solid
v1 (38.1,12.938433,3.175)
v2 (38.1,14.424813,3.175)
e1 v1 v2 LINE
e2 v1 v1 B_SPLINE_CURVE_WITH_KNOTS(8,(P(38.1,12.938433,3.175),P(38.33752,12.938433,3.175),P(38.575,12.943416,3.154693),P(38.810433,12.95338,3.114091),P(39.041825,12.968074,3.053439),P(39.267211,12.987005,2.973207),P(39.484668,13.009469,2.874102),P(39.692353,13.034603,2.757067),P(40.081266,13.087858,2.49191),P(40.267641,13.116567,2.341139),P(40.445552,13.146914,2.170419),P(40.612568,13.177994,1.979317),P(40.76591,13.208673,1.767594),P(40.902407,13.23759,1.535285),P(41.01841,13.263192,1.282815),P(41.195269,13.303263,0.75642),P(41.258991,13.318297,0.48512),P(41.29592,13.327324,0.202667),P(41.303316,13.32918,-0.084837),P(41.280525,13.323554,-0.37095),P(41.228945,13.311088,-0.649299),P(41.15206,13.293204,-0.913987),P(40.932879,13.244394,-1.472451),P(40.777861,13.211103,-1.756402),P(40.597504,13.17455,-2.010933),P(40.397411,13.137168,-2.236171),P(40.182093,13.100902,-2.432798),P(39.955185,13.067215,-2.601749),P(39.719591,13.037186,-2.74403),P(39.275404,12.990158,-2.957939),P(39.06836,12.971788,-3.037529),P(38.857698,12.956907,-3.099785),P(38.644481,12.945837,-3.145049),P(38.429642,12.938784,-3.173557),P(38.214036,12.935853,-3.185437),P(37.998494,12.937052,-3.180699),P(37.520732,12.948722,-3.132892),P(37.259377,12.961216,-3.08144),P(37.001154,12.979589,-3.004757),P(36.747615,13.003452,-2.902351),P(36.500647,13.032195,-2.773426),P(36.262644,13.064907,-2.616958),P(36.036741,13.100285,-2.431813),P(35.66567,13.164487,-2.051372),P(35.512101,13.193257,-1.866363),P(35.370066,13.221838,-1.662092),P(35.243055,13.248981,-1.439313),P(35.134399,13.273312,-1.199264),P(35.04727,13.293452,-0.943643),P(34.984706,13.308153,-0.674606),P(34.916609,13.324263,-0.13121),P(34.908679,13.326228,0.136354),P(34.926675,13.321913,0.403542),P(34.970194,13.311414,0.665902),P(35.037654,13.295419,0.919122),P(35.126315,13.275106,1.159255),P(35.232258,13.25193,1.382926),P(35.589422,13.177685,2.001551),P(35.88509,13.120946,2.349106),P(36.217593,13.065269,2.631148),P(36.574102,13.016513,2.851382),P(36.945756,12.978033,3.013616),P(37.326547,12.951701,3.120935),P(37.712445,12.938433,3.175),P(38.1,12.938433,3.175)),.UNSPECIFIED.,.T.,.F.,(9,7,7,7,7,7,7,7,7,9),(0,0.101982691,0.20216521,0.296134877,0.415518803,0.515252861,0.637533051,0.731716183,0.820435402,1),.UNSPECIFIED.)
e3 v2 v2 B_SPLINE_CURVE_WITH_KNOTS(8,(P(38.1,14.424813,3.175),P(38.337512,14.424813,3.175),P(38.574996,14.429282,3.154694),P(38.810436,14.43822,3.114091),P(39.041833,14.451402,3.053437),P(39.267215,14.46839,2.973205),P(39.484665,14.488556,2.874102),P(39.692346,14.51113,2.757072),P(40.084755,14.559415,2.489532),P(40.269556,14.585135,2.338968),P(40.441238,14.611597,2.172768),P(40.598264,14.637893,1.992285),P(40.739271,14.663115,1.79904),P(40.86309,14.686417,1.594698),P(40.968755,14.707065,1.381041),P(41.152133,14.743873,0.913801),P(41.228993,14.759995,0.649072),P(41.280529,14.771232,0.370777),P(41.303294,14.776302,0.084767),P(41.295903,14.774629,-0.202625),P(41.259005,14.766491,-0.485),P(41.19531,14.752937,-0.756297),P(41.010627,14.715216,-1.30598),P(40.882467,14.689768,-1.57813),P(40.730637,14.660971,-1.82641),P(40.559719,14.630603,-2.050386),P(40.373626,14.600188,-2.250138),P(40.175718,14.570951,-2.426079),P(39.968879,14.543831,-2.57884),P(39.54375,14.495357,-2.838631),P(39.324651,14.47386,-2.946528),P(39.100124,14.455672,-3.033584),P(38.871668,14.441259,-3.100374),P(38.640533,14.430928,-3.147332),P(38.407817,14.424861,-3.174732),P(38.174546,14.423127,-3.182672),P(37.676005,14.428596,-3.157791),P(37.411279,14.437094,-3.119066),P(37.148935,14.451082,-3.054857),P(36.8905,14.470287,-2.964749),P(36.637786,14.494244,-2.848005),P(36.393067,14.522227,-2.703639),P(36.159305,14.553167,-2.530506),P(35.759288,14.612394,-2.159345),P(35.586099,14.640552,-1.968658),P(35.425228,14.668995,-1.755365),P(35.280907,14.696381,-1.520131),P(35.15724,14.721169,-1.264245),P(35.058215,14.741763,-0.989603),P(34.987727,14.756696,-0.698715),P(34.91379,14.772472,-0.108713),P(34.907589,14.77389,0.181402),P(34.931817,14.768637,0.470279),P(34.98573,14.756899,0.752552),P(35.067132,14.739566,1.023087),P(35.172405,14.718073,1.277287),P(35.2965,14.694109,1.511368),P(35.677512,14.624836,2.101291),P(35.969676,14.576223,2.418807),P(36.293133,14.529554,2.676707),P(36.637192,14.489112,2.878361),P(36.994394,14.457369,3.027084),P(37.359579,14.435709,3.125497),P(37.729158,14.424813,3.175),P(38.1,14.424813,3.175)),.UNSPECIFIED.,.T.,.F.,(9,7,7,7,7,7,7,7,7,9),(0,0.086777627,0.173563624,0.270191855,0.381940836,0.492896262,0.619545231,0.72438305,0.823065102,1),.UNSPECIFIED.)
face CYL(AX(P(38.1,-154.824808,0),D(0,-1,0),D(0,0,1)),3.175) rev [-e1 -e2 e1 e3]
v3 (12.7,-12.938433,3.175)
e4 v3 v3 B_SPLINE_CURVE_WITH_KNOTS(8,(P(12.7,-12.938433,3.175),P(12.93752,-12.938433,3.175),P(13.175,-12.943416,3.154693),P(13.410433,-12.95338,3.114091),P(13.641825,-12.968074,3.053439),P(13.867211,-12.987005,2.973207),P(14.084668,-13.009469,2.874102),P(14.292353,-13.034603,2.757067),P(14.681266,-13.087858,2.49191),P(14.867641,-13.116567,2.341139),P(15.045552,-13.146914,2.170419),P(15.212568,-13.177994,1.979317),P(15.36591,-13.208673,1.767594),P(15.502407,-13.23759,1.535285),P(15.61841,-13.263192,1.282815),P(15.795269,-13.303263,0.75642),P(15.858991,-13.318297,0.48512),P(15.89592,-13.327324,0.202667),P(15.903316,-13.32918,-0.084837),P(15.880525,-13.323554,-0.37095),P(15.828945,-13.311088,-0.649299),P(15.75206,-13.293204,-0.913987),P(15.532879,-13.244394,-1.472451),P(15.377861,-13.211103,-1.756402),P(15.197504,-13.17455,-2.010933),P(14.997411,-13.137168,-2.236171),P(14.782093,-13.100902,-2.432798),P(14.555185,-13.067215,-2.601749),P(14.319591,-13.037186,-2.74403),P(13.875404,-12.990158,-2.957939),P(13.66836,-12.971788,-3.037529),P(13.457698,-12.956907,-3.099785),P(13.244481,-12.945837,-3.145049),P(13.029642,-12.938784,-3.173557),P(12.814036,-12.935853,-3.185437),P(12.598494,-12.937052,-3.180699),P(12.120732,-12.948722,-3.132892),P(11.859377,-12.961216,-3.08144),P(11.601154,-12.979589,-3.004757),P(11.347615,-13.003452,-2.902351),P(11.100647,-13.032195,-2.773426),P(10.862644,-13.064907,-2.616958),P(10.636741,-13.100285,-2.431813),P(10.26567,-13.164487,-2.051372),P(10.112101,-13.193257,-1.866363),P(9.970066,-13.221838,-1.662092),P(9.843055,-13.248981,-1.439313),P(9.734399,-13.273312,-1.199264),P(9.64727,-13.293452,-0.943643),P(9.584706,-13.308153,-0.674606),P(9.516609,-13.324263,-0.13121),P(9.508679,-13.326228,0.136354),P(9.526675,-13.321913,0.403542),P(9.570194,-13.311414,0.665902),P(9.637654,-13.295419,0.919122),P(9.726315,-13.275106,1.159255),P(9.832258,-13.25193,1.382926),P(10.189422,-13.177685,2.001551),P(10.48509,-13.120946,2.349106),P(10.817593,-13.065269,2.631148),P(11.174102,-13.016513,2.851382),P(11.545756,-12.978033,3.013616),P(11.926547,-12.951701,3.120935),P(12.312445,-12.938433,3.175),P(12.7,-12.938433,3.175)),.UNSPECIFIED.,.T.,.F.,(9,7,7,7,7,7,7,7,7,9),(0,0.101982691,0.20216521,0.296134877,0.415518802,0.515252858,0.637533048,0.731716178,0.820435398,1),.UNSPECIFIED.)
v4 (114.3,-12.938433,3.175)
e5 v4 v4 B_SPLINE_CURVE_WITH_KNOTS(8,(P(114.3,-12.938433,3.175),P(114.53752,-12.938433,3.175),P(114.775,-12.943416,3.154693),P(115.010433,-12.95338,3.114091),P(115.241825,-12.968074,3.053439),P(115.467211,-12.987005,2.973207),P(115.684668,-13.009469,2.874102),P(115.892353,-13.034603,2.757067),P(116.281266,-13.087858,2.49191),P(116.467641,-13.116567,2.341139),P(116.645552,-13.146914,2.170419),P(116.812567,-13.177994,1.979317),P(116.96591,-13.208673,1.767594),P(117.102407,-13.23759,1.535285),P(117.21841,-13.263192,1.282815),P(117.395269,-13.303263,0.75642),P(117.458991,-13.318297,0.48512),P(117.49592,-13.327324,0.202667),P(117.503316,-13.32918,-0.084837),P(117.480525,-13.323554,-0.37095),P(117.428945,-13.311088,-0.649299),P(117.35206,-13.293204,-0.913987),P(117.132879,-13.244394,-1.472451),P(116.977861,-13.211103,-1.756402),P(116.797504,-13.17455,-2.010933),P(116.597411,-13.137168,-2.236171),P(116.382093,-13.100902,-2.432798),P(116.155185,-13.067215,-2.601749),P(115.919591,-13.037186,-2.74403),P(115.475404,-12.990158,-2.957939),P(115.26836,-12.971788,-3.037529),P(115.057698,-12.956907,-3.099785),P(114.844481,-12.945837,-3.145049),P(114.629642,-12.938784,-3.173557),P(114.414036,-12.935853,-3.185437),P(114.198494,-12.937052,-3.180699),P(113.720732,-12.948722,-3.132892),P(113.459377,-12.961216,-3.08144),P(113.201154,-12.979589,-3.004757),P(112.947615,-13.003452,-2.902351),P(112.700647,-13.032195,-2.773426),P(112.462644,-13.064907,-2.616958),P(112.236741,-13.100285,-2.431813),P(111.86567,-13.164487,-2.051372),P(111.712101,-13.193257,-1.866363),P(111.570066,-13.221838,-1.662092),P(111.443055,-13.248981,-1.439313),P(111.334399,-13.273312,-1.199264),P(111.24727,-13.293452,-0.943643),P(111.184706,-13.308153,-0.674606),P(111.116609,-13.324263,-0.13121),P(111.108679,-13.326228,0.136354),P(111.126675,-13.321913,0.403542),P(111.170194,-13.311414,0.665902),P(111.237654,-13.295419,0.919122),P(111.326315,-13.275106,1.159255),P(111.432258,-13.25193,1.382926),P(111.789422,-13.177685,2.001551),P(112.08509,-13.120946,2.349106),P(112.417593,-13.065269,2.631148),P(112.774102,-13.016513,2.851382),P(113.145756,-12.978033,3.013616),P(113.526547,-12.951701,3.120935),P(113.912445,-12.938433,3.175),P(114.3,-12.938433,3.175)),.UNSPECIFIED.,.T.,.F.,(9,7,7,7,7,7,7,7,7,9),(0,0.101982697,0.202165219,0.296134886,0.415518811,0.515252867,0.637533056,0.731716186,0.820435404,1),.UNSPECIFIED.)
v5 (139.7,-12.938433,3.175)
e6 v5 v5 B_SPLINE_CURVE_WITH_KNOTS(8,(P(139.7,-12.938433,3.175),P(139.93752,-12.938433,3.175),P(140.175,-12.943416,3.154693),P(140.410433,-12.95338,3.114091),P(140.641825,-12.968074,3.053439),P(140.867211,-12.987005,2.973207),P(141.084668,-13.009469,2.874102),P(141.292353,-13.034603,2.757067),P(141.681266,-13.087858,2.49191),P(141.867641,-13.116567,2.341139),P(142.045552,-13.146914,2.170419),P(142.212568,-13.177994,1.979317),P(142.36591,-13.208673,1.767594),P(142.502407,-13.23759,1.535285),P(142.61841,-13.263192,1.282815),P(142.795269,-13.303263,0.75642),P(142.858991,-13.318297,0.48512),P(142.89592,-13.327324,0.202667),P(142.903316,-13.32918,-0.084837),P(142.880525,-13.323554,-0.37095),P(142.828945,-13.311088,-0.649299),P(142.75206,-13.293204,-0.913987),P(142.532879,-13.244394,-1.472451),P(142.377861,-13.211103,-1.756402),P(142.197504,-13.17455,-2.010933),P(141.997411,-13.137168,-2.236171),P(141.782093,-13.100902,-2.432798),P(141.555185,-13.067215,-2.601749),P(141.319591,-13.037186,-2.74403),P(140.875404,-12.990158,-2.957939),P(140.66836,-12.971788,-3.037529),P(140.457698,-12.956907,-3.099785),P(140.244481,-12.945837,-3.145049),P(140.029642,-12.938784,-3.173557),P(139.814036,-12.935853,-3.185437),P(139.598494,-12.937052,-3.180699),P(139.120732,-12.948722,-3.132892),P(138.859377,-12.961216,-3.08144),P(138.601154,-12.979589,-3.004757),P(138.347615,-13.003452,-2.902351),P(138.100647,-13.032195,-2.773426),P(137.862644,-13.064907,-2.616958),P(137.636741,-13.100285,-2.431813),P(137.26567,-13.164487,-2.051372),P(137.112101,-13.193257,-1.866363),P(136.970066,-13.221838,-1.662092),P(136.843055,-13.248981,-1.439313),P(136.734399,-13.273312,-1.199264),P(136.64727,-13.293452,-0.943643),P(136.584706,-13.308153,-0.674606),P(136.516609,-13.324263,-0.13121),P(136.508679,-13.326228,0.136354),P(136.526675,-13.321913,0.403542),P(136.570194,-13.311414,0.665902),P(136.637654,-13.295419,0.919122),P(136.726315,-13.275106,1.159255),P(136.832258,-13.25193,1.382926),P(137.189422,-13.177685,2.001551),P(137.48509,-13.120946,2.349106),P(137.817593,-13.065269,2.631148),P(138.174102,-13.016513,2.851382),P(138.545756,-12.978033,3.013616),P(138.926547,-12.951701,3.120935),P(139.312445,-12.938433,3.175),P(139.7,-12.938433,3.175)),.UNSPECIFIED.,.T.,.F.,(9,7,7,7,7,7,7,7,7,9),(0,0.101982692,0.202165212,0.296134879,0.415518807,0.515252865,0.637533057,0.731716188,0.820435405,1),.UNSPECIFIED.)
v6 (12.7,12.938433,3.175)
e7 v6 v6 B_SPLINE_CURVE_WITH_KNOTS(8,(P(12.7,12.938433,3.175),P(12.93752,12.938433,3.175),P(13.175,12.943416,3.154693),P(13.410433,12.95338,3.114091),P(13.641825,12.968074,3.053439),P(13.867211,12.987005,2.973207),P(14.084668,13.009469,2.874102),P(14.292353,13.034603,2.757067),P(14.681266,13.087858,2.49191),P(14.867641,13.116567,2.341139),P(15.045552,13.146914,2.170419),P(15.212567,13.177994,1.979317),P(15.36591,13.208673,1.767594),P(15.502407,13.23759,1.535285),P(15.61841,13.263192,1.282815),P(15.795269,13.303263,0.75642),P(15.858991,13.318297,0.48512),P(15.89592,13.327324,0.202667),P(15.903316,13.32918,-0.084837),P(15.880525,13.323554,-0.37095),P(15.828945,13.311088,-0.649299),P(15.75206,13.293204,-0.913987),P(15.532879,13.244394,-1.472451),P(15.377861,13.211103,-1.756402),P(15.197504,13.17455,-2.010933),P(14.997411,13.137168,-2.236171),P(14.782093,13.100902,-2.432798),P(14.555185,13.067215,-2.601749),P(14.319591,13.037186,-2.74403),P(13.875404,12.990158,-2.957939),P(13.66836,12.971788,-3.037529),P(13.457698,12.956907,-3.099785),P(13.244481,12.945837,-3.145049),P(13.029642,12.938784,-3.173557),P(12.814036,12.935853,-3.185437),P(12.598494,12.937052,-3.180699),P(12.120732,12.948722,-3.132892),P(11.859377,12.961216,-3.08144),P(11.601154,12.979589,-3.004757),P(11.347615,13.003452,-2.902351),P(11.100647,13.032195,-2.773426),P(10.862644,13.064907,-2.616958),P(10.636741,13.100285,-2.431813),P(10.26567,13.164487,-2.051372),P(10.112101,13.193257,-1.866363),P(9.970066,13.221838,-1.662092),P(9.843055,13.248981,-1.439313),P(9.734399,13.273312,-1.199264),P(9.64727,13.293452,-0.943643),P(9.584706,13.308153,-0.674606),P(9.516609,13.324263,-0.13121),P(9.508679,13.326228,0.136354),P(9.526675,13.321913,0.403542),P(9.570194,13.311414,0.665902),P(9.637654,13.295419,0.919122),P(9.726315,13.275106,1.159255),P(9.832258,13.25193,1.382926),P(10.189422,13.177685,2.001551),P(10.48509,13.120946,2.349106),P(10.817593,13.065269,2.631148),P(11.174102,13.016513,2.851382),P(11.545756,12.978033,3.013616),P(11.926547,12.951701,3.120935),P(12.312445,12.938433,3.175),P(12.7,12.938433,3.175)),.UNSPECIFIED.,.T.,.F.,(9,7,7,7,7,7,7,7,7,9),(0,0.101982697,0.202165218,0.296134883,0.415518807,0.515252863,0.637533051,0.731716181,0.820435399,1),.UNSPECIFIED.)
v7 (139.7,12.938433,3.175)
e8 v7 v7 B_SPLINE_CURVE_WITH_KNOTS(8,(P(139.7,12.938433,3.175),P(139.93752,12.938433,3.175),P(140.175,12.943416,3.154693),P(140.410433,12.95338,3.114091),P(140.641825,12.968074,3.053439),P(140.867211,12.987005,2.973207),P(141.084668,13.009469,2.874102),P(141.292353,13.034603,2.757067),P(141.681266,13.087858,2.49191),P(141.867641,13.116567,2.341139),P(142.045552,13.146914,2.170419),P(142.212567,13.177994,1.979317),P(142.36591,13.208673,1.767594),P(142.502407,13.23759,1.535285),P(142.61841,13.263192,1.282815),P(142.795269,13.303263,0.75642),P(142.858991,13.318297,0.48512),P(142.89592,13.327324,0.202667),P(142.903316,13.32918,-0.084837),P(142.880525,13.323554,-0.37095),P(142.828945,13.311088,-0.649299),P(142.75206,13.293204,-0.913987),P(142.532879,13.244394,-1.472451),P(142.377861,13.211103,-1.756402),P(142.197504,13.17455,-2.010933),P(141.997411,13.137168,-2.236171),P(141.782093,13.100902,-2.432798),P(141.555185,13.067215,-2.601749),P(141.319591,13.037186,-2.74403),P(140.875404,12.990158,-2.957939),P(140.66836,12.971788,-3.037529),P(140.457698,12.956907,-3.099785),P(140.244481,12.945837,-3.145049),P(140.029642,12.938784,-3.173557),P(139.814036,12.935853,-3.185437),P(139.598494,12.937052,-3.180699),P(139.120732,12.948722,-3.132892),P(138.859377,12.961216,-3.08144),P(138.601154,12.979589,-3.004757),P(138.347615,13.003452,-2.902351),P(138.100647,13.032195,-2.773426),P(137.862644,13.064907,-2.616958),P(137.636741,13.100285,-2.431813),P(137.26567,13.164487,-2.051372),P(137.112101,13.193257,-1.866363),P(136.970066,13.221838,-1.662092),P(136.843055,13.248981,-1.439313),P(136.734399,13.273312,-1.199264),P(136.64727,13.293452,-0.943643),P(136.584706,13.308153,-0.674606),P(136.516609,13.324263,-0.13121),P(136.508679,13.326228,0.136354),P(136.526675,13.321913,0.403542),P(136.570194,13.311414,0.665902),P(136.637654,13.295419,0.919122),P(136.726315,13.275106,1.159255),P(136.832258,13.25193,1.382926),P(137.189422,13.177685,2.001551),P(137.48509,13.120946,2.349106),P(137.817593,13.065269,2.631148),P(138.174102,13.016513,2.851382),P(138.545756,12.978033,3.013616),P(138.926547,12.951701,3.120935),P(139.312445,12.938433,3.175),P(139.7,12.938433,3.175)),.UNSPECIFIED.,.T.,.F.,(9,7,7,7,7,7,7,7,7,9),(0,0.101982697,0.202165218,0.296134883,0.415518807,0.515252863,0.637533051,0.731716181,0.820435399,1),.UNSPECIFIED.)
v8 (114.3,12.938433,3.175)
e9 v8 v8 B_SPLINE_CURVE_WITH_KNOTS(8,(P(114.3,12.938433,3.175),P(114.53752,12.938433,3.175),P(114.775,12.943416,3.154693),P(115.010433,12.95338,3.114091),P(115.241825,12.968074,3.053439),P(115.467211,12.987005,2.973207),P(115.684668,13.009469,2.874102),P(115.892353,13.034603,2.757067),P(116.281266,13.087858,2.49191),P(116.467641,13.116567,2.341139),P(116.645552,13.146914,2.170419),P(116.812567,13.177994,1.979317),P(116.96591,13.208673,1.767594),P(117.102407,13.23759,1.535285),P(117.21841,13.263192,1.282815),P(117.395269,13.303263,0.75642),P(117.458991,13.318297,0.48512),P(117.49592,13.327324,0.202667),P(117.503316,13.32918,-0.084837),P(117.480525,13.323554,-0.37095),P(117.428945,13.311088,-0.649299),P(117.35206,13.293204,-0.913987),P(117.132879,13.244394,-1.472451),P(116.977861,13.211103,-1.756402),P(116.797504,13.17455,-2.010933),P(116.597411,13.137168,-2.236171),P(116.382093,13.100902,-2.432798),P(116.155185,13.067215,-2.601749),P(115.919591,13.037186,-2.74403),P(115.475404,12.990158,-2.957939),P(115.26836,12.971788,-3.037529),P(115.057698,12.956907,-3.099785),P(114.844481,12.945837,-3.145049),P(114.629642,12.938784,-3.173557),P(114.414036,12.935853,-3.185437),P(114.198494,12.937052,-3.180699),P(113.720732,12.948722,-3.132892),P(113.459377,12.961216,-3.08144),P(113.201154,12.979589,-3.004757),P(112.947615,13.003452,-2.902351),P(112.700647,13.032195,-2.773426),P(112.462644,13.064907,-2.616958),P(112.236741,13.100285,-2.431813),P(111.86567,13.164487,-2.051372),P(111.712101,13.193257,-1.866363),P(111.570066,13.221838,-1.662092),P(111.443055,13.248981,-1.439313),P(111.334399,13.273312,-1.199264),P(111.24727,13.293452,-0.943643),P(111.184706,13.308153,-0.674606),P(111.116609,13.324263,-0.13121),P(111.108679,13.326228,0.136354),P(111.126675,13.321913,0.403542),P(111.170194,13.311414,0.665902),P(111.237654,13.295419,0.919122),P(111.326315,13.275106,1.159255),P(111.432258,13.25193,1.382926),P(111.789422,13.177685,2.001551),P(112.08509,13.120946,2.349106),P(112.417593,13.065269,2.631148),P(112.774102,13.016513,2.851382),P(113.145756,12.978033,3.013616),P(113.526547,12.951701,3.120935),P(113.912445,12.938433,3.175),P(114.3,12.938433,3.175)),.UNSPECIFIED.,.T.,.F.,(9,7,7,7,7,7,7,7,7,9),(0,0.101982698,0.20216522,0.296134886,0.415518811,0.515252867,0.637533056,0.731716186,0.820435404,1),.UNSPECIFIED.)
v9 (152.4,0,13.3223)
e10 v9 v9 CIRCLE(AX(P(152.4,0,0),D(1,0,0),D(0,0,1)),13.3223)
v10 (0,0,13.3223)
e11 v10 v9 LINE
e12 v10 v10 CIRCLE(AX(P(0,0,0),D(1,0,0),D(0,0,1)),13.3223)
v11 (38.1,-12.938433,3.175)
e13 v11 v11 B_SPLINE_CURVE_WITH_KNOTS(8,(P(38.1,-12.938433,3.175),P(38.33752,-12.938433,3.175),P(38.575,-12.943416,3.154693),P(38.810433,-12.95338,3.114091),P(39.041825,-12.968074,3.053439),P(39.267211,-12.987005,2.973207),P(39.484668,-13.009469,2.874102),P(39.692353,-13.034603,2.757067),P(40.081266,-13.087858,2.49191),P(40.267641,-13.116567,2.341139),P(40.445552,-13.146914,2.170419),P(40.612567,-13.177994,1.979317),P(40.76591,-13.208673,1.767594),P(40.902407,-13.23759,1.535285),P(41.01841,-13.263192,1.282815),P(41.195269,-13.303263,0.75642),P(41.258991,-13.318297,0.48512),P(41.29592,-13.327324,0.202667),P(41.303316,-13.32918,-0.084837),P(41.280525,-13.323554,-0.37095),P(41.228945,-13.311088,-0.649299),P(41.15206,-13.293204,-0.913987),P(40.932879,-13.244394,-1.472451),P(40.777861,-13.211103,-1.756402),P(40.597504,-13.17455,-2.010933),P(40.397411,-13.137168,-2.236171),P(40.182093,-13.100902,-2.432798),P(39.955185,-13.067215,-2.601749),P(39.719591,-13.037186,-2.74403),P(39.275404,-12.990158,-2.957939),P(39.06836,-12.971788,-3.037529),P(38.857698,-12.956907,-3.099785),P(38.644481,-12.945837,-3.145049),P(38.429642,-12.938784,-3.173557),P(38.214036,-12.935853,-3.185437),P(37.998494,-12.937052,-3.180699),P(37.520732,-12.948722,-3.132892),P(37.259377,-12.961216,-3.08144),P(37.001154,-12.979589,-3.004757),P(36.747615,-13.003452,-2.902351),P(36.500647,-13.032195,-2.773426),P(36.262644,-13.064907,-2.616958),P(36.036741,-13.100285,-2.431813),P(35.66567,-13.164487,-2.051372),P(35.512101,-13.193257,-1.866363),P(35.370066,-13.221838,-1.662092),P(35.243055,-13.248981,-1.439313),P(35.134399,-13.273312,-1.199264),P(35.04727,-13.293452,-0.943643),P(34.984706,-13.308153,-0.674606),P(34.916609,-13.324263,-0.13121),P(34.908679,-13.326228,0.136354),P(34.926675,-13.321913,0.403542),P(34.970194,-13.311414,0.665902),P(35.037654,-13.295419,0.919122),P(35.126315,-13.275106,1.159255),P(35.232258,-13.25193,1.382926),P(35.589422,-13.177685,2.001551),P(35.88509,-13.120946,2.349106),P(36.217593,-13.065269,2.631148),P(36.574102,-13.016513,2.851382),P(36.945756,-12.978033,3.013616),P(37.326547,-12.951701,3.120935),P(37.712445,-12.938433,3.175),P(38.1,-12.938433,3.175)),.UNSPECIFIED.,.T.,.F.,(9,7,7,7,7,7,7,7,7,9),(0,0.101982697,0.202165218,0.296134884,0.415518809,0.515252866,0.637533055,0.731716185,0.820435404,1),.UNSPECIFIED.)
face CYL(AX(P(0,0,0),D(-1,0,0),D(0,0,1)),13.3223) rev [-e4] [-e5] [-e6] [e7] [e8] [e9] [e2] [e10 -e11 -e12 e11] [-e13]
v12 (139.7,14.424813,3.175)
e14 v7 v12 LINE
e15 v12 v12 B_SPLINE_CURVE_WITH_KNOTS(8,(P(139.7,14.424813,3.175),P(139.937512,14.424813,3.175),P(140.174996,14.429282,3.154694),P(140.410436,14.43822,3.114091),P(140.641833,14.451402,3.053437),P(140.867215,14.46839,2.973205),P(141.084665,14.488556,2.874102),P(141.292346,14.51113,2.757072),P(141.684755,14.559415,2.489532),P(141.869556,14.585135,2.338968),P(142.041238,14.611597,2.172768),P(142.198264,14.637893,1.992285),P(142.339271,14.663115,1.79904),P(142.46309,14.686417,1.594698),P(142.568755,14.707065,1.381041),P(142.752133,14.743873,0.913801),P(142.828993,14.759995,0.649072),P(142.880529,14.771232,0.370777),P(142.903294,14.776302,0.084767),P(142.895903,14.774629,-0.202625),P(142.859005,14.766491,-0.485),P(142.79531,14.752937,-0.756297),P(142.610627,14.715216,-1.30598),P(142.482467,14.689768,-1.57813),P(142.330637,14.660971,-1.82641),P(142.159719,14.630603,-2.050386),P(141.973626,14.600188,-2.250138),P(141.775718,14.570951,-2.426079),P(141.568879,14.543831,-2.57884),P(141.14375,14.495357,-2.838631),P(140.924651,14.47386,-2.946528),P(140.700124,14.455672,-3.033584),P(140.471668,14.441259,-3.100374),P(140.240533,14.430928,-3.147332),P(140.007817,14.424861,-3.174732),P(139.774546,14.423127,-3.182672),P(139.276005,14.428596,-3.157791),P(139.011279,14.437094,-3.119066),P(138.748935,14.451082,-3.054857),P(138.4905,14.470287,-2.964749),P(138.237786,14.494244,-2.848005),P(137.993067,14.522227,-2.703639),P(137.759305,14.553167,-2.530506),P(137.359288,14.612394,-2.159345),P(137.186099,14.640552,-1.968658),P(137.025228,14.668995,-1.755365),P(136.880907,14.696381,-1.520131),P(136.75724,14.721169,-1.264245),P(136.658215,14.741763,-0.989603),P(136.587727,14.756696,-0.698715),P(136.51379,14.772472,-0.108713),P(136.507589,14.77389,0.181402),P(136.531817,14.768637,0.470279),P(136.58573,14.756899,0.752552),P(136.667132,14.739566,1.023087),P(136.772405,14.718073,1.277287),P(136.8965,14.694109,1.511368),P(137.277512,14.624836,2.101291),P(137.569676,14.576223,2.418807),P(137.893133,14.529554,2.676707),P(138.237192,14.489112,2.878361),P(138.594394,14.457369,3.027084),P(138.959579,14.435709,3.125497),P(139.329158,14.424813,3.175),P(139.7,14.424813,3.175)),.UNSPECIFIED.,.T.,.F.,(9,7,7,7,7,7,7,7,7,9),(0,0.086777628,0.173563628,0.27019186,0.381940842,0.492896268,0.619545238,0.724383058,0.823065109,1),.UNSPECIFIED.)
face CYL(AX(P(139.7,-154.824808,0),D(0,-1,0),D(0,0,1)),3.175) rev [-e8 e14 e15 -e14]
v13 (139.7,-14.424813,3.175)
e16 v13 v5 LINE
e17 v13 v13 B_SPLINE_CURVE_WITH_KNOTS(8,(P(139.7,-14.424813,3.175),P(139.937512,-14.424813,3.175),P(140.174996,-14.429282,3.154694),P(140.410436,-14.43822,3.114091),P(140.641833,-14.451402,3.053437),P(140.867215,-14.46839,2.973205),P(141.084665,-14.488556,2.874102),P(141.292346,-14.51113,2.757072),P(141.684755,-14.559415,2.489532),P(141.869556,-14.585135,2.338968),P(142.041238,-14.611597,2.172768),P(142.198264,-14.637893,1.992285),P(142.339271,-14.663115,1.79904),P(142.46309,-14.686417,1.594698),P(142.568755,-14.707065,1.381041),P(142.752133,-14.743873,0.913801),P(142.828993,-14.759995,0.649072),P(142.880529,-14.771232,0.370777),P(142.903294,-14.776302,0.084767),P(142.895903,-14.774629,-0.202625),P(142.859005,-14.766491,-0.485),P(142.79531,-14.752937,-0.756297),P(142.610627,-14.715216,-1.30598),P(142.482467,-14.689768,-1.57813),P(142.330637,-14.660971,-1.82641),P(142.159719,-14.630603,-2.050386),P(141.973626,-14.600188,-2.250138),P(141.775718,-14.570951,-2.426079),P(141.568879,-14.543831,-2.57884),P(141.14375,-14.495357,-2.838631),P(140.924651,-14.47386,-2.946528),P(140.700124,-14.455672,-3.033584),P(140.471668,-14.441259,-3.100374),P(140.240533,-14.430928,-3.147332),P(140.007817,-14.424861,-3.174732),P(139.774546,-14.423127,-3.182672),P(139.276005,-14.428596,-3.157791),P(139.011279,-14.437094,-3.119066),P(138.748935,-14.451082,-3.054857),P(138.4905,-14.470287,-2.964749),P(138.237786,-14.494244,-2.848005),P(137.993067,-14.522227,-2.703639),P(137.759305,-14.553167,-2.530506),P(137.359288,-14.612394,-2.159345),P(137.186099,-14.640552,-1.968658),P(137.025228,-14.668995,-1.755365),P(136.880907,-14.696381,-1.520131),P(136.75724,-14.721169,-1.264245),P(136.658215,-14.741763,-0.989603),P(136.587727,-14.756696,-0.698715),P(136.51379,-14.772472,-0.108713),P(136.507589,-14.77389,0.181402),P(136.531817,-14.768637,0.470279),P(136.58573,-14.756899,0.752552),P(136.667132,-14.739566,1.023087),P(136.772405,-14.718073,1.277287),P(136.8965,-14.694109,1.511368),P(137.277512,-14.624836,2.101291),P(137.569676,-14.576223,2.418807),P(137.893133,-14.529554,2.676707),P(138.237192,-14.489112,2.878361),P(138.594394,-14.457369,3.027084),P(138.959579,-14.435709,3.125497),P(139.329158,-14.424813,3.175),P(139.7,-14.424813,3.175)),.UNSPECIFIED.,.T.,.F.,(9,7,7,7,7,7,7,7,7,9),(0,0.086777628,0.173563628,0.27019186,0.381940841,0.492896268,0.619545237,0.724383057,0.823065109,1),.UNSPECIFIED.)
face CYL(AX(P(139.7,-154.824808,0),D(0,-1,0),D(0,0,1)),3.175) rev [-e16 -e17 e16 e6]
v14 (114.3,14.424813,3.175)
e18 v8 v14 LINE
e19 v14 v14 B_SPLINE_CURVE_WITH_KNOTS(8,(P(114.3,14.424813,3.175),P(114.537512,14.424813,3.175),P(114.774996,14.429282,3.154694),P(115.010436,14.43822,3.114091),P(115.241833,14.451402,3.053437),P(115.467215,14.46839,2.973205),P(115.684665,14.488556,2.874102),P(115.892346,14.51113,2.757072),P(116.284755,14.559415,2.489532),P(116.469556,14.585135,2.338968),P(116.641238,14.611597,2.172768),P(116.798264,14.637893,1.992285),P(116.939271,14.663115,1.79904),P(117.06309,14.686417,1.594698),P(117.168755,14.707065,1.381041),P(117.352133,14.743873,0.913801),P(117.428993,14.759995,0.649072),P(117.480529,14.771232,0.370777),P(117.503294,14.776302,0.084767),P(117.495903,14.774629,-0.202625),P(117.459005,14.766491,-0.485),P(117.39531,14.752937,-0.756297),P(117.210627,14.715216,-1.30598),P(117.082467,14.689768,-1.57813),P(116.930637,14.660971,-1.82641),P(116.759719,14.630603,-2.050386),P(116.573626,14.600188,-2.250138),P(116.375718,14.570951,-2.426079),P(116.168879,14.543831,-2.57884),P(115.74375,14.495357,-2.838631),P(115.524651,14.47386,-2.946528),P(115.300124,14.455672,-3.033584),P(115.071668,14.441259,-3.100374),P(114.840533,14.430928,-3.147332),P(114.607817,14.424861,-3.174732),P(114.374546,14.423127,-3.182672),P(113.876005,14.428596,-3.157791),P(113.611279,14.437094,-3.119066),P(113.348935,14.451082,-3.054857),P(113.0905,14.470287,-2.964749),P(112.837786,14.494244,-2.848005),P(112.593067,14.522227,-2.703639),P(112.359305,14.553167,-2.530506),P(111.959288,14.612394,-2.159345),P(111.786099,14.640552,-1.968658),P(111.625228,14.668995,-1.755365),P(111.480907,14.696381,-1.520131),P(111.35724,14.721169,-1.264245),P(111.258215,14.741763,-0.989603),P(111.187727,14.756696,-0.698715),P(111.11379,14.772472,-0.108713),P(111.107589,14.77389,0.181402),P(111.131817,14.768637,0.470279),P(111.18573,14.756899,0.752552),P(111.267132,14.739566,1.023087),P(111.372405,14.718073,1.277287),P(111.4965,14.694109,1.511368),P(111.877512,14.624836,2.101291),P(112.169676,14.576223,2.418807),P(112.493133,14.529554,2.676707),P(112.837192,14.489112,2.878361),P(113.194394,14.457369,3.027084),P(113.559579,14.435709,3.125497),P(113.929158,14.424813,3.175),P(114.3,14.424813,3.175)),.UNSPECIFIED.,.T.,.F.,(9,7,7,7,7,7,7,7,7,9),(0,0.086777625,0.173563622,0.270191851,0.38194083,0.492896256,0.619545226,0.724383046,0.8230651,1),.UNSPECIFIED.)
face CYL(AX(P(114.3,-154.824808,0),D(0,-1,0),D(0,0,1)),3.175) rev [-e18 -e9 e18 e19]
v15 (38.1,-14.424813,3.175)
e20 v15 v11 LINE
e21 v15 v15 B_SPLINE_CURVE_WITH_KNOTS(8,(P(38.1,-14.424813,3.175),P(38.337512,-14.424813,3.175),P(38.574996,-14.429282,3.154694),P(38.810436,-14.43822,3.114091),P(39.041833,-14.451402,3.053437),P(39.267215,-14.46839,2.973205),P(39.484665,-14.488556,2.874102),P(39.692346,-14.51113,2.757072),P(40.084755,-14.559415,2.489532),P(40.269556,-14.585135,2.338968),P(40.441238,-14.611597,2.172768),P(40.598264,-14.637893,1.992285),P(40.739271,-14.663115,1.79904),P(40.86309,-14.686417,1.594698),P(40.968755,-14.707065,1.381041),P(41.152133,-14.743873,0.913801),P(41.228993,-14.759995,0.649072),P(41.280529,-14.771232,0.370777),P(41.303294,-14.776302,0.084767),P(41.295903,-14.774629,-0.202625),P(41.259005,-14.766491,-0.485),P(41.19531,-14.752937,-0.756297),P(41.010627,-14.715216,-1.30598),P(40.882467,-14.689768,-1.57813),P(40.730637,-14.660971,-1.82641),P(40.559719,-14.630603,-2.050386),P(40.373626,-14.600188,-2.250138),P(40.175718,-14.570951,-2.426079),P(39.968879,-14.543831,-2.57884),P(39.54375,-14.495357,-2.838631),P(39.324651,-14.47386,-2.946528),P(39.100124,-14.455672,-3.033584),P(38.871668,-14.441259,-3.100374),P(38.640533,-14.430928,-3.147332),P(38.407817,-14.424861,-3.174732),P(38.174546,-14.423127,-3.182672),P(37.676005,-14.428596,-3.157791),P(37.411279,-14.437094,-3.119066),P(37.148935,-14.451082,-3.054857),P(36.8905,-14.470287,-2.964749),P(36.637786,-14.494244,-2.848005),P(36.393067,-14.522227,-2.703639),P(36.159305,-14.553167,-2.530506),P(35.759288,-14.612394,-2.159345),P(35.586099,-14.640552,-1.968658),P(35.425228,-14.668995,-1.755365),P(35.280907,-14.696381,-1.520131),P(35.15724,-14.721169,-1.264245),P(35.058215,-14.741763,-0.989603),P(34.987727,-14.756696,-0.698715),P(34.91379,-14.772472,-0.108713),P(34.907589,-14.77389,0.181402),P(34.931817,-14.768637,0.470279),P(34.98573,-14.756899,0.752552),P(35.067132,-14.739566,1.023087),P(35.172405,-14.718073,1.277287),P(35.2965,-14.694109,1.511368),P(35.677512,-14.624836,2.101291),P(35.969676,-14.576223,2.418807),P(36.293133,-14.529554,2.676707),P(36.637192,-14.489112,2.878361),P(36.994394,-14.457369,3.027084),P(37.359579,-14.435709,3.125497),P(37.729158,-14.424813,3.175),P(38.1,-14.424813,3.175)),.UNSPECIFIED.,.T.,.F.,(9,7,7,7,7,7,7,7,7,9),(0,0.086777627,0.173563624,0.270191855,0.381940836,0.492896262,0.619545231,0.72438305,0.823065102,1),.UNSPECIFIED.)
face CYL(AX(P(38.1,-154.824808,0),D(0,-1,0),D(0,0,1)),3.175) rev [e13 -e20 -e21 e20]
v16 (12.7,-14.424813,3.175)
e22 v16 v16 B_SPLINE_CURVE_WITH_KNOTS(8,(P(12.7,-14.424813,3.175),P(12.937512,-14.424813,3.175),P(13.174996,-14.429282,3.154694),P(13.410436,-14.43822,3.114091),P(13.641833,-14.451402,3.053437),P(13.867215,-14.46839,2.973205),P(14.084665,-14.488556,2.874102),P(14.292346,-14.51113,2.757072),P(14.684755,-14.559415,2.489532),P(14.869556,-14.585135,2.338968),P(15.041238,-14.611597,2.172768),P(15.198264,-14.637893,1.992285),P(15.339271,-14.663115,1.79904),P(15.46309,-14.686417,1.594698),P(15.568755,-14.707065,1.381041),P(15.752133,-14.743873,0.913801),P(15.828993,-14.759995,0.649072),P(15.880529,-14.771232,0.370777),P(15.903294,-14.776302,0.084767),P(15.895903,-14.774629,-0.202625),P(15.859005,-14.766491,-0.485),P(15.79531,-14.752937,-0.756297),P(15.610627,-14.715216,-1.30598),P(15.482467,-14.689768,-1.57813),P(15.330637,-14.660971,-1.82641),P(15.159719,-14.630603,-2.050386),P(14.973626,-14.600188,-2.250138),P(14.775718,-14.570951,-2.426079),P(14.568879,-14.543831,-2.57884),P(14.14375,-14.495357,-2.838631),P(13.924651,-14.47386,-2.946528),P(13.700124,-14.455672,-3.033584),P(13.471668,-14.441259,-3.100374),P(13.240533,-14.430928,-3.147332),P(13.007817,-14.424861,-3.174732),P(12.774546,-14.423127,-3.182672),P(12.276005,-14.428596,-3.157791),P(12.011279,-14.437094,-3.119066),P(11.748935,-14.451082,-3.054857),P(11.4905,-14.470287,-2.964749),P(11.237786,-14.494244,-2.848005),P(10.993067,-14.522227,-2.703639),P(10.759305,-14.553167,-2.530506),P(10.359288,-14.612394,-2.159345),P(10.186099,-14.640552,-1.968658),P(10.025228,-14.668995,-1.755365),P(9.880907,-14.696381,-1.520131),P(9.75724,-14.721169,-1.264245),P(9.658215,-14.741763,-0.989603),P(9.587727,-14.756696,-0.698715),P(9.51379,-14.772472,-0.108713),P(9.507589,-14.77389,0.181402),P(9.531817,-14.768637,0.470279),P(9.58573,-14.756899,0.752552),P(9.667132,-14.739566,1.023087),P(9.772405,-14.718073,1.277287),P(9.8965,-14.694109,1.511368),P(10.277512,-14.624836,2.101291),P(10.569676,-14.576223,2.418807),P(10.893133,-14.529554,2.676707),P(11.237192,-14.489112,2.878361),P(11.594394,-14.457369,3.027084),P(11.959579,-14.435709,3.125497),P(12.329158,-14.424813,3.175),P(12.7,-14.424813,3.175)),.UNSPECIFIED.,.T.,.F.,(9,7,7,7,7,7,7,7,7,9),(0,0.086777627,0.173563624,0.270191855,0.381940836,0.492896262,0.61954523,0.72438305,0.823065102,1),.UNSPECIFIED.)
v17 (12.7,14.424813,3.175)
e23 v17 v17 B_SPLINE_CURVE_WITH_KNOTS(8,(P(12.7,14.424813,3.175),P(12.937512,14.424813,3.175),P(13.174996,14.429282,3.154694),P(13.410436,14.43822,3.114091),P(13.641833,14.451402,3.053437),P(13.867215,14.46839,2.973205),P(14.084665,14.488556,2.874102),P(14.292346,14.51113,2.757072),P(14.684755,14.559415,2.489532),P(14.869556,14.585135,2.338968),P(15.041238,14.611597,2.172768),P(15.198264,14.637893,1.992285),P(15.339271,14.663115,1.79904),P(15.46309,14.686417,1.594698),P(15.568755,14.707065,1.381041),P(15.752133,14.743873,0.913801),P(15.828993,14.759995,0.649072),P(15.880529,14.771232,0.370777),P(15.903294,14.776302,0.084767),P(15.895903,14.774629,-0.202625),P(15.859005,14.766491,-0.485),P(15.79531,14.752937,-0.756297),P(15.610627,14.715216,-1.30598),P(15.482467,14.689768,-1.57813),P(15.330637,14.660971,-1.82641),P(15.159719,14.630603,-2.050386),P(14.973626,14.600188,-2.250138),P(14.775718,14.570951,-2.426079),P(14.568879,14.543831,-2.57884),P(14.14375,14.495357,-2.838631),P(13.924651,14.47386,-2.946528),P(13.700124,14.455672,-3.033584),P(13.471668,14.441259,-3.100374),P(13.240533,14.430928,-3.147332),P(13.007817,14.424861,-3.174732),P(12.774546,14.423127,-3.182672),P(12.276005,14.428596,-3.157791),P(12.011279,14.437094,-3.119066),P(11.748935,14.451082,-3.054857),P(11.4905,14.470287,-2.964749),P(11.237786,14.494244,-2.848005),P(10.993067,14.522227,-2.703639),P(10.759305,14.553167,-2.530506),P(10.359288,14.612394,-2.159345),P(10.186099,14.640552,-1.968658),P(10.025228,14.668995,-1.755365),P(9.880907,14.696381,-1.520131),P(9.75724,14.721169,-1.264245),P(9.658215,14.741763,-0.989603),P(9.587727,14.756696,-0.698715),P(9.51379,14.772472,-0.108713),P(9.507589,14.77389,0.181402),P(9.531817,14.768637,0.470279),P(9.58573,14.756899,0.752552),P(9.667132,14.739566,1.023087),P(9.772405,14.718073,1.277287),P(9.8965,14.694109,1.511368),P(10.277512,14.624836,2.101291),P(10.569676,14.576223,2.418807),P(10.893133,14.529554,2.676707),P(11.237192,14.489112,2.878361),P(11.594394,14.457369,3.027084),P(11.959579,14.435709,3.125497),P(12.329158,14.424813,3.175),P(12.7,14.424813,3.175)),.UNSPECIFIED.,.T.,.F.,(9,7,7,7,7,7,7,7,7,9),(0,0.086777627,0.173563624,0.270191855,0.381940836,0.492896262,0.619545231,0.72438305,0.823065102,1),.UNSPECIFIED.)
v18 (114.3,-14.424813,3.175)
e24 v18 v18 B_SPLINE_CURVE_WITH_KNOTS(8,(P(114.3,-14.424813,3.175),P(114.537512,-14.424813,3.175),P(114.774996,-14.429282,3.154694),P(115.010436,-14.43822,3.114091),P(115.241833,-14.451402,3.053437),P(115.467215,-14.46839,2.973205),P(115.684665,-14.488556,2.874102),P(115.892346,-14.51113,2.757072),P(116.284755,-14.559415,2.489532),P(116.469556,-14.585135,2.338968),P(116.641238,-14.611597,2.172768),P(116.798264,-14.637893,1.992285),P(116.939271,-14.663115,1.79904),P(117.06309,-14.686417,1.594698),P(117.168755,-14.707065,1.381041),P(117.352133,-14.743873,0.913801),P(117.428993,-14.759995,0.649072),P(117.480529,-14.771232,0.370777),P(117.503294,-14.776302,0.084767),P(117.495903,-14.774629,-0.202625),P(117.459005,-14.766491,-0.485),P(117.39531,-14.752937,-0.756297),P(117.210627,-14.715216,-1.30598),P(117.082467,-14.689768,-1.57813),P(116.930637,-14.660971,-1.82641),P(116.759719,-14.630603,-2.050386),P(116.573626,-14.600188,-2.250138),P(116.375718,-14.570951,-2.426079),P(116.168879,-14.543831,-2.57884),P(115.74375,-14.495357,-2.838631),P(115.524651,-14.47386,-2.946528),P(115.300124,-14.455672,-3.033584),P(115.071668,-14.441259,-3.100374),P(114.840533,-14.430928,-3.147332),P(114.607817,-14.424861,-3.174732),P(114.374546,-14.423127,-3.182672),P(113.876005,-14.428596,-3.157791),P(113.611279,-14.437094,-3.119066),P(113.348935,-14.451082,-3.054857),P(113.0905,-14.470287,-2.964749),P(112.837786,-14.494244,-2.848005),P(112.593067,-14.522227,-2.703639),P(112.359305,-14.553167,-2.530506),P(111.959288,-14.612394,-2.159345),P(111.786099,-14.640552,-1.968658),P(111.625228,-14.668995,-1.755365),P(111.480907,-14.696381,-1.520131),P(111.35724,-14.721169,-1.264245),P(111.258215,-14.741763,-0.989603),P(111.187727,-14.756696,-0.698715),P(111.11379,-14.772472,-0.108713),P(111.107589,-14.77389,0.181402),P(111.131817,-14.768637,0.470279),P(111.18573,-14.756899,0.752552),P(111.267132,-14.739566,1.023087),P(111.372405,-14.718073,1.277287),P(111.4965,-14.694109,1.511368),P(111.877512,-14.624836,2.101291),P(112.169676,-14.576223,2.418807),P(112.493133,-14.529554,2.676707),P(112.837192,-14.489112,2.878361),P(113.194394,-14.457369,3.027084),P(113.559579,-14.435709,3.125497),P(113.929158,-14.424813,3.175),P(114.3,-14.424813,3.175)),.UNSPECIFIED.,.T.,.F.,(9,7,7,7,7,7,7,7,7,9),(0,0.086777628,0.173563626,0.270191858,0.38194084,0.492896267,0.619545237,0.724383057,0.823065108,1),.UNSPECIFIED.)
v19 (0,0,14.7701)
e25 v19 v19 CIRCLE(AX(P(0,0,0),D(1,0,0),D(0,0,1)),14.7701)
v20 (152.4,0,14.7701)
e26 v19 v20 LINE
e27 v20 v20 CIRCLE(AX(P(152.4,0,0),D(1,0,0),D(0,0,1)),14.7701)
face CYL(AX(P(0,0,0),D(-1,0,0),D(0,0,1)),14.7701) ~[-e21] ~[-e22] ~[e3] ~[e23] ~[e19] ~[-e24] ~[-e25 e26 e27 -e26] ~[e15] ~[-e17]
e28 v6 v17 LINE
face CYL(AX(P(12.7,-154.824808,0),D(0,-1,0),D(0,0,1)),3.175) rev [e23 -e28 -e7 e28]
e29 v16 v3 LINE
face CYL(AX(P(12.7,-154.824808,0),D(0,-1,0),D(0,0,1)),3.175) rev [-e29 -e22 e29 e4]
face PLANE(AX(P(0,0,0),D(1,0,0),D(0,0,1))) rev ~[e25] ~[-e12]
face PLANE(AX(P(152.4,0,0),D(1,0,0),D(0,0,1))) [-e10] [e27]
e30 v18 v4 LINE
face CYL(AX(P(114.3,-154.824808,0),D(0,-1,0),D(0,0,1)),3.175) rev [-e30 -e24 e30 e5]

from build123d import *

# Parameters (mm, degrees)
SKETCH3_R               = 14.7701
SKETCH3_R_2             = 13.3223
BOSS_EXTRUDE1_DEPTH     = 152.4
CUT_EXTRUDE1_DEPTH      = 154.824808493
CUT_EXTRUDE1_DEPTH_BACK = 154.824808493
SKETCH4_R               = 3.175


with BuildPart() as part:
    # Sketch3 → Boss-Extrude1 (new body)
    with BuildSketch(Plane(origin=(0, 0, 0), x_dir=(0, 0, -1), z_dir=(1, 0, 0))):
        with Locations(Location((0, 0, 0), (0, 0, 180))):
            Circle(SKETCH3_R)
        with Locations(Location((0, 0, 0), (0, 0, 180))):
            Circle(SKETCH3_R_2, mode=Mode.SUBTRACT)
    extrude(amount=BOSS_EXTRUDE1_DEPTH)

    # Sketch4 → Cut-Extrude1 (cut, two sides: drawn at the far end of the back side and taken through both)
    with BuildSketch(Plane(origin=(0, 0, 0), x_dir=(1, 0, 0), z_dir=(0, 1, 0)).offset(-CUT_EXTRUDE1_DEPTH_BACK)):
        with Locations(Location((12.7, 0, 0), (0, 0, 270))):
            Circle(SKETCH4_R)
        with Locations(Location((38.1, 0, 0), (0, 0, 270))):
            Circle(SKETCH4_R)
        with Locations(Location((139.7, 0, 0), (0, 0, 270))):
            Circle(SKETCH4_R)
        with Locations(Location((114.3, 0, 0), (0, 0, 270))):
            Circle(SKETCH4_R)
    extrude(amount=CUT_EXTRUDE1_DEPTH + CUT_EXTRUDE1_DEPTH_BACK, mode=Mode.SUBTRACT)


solid = part.part
